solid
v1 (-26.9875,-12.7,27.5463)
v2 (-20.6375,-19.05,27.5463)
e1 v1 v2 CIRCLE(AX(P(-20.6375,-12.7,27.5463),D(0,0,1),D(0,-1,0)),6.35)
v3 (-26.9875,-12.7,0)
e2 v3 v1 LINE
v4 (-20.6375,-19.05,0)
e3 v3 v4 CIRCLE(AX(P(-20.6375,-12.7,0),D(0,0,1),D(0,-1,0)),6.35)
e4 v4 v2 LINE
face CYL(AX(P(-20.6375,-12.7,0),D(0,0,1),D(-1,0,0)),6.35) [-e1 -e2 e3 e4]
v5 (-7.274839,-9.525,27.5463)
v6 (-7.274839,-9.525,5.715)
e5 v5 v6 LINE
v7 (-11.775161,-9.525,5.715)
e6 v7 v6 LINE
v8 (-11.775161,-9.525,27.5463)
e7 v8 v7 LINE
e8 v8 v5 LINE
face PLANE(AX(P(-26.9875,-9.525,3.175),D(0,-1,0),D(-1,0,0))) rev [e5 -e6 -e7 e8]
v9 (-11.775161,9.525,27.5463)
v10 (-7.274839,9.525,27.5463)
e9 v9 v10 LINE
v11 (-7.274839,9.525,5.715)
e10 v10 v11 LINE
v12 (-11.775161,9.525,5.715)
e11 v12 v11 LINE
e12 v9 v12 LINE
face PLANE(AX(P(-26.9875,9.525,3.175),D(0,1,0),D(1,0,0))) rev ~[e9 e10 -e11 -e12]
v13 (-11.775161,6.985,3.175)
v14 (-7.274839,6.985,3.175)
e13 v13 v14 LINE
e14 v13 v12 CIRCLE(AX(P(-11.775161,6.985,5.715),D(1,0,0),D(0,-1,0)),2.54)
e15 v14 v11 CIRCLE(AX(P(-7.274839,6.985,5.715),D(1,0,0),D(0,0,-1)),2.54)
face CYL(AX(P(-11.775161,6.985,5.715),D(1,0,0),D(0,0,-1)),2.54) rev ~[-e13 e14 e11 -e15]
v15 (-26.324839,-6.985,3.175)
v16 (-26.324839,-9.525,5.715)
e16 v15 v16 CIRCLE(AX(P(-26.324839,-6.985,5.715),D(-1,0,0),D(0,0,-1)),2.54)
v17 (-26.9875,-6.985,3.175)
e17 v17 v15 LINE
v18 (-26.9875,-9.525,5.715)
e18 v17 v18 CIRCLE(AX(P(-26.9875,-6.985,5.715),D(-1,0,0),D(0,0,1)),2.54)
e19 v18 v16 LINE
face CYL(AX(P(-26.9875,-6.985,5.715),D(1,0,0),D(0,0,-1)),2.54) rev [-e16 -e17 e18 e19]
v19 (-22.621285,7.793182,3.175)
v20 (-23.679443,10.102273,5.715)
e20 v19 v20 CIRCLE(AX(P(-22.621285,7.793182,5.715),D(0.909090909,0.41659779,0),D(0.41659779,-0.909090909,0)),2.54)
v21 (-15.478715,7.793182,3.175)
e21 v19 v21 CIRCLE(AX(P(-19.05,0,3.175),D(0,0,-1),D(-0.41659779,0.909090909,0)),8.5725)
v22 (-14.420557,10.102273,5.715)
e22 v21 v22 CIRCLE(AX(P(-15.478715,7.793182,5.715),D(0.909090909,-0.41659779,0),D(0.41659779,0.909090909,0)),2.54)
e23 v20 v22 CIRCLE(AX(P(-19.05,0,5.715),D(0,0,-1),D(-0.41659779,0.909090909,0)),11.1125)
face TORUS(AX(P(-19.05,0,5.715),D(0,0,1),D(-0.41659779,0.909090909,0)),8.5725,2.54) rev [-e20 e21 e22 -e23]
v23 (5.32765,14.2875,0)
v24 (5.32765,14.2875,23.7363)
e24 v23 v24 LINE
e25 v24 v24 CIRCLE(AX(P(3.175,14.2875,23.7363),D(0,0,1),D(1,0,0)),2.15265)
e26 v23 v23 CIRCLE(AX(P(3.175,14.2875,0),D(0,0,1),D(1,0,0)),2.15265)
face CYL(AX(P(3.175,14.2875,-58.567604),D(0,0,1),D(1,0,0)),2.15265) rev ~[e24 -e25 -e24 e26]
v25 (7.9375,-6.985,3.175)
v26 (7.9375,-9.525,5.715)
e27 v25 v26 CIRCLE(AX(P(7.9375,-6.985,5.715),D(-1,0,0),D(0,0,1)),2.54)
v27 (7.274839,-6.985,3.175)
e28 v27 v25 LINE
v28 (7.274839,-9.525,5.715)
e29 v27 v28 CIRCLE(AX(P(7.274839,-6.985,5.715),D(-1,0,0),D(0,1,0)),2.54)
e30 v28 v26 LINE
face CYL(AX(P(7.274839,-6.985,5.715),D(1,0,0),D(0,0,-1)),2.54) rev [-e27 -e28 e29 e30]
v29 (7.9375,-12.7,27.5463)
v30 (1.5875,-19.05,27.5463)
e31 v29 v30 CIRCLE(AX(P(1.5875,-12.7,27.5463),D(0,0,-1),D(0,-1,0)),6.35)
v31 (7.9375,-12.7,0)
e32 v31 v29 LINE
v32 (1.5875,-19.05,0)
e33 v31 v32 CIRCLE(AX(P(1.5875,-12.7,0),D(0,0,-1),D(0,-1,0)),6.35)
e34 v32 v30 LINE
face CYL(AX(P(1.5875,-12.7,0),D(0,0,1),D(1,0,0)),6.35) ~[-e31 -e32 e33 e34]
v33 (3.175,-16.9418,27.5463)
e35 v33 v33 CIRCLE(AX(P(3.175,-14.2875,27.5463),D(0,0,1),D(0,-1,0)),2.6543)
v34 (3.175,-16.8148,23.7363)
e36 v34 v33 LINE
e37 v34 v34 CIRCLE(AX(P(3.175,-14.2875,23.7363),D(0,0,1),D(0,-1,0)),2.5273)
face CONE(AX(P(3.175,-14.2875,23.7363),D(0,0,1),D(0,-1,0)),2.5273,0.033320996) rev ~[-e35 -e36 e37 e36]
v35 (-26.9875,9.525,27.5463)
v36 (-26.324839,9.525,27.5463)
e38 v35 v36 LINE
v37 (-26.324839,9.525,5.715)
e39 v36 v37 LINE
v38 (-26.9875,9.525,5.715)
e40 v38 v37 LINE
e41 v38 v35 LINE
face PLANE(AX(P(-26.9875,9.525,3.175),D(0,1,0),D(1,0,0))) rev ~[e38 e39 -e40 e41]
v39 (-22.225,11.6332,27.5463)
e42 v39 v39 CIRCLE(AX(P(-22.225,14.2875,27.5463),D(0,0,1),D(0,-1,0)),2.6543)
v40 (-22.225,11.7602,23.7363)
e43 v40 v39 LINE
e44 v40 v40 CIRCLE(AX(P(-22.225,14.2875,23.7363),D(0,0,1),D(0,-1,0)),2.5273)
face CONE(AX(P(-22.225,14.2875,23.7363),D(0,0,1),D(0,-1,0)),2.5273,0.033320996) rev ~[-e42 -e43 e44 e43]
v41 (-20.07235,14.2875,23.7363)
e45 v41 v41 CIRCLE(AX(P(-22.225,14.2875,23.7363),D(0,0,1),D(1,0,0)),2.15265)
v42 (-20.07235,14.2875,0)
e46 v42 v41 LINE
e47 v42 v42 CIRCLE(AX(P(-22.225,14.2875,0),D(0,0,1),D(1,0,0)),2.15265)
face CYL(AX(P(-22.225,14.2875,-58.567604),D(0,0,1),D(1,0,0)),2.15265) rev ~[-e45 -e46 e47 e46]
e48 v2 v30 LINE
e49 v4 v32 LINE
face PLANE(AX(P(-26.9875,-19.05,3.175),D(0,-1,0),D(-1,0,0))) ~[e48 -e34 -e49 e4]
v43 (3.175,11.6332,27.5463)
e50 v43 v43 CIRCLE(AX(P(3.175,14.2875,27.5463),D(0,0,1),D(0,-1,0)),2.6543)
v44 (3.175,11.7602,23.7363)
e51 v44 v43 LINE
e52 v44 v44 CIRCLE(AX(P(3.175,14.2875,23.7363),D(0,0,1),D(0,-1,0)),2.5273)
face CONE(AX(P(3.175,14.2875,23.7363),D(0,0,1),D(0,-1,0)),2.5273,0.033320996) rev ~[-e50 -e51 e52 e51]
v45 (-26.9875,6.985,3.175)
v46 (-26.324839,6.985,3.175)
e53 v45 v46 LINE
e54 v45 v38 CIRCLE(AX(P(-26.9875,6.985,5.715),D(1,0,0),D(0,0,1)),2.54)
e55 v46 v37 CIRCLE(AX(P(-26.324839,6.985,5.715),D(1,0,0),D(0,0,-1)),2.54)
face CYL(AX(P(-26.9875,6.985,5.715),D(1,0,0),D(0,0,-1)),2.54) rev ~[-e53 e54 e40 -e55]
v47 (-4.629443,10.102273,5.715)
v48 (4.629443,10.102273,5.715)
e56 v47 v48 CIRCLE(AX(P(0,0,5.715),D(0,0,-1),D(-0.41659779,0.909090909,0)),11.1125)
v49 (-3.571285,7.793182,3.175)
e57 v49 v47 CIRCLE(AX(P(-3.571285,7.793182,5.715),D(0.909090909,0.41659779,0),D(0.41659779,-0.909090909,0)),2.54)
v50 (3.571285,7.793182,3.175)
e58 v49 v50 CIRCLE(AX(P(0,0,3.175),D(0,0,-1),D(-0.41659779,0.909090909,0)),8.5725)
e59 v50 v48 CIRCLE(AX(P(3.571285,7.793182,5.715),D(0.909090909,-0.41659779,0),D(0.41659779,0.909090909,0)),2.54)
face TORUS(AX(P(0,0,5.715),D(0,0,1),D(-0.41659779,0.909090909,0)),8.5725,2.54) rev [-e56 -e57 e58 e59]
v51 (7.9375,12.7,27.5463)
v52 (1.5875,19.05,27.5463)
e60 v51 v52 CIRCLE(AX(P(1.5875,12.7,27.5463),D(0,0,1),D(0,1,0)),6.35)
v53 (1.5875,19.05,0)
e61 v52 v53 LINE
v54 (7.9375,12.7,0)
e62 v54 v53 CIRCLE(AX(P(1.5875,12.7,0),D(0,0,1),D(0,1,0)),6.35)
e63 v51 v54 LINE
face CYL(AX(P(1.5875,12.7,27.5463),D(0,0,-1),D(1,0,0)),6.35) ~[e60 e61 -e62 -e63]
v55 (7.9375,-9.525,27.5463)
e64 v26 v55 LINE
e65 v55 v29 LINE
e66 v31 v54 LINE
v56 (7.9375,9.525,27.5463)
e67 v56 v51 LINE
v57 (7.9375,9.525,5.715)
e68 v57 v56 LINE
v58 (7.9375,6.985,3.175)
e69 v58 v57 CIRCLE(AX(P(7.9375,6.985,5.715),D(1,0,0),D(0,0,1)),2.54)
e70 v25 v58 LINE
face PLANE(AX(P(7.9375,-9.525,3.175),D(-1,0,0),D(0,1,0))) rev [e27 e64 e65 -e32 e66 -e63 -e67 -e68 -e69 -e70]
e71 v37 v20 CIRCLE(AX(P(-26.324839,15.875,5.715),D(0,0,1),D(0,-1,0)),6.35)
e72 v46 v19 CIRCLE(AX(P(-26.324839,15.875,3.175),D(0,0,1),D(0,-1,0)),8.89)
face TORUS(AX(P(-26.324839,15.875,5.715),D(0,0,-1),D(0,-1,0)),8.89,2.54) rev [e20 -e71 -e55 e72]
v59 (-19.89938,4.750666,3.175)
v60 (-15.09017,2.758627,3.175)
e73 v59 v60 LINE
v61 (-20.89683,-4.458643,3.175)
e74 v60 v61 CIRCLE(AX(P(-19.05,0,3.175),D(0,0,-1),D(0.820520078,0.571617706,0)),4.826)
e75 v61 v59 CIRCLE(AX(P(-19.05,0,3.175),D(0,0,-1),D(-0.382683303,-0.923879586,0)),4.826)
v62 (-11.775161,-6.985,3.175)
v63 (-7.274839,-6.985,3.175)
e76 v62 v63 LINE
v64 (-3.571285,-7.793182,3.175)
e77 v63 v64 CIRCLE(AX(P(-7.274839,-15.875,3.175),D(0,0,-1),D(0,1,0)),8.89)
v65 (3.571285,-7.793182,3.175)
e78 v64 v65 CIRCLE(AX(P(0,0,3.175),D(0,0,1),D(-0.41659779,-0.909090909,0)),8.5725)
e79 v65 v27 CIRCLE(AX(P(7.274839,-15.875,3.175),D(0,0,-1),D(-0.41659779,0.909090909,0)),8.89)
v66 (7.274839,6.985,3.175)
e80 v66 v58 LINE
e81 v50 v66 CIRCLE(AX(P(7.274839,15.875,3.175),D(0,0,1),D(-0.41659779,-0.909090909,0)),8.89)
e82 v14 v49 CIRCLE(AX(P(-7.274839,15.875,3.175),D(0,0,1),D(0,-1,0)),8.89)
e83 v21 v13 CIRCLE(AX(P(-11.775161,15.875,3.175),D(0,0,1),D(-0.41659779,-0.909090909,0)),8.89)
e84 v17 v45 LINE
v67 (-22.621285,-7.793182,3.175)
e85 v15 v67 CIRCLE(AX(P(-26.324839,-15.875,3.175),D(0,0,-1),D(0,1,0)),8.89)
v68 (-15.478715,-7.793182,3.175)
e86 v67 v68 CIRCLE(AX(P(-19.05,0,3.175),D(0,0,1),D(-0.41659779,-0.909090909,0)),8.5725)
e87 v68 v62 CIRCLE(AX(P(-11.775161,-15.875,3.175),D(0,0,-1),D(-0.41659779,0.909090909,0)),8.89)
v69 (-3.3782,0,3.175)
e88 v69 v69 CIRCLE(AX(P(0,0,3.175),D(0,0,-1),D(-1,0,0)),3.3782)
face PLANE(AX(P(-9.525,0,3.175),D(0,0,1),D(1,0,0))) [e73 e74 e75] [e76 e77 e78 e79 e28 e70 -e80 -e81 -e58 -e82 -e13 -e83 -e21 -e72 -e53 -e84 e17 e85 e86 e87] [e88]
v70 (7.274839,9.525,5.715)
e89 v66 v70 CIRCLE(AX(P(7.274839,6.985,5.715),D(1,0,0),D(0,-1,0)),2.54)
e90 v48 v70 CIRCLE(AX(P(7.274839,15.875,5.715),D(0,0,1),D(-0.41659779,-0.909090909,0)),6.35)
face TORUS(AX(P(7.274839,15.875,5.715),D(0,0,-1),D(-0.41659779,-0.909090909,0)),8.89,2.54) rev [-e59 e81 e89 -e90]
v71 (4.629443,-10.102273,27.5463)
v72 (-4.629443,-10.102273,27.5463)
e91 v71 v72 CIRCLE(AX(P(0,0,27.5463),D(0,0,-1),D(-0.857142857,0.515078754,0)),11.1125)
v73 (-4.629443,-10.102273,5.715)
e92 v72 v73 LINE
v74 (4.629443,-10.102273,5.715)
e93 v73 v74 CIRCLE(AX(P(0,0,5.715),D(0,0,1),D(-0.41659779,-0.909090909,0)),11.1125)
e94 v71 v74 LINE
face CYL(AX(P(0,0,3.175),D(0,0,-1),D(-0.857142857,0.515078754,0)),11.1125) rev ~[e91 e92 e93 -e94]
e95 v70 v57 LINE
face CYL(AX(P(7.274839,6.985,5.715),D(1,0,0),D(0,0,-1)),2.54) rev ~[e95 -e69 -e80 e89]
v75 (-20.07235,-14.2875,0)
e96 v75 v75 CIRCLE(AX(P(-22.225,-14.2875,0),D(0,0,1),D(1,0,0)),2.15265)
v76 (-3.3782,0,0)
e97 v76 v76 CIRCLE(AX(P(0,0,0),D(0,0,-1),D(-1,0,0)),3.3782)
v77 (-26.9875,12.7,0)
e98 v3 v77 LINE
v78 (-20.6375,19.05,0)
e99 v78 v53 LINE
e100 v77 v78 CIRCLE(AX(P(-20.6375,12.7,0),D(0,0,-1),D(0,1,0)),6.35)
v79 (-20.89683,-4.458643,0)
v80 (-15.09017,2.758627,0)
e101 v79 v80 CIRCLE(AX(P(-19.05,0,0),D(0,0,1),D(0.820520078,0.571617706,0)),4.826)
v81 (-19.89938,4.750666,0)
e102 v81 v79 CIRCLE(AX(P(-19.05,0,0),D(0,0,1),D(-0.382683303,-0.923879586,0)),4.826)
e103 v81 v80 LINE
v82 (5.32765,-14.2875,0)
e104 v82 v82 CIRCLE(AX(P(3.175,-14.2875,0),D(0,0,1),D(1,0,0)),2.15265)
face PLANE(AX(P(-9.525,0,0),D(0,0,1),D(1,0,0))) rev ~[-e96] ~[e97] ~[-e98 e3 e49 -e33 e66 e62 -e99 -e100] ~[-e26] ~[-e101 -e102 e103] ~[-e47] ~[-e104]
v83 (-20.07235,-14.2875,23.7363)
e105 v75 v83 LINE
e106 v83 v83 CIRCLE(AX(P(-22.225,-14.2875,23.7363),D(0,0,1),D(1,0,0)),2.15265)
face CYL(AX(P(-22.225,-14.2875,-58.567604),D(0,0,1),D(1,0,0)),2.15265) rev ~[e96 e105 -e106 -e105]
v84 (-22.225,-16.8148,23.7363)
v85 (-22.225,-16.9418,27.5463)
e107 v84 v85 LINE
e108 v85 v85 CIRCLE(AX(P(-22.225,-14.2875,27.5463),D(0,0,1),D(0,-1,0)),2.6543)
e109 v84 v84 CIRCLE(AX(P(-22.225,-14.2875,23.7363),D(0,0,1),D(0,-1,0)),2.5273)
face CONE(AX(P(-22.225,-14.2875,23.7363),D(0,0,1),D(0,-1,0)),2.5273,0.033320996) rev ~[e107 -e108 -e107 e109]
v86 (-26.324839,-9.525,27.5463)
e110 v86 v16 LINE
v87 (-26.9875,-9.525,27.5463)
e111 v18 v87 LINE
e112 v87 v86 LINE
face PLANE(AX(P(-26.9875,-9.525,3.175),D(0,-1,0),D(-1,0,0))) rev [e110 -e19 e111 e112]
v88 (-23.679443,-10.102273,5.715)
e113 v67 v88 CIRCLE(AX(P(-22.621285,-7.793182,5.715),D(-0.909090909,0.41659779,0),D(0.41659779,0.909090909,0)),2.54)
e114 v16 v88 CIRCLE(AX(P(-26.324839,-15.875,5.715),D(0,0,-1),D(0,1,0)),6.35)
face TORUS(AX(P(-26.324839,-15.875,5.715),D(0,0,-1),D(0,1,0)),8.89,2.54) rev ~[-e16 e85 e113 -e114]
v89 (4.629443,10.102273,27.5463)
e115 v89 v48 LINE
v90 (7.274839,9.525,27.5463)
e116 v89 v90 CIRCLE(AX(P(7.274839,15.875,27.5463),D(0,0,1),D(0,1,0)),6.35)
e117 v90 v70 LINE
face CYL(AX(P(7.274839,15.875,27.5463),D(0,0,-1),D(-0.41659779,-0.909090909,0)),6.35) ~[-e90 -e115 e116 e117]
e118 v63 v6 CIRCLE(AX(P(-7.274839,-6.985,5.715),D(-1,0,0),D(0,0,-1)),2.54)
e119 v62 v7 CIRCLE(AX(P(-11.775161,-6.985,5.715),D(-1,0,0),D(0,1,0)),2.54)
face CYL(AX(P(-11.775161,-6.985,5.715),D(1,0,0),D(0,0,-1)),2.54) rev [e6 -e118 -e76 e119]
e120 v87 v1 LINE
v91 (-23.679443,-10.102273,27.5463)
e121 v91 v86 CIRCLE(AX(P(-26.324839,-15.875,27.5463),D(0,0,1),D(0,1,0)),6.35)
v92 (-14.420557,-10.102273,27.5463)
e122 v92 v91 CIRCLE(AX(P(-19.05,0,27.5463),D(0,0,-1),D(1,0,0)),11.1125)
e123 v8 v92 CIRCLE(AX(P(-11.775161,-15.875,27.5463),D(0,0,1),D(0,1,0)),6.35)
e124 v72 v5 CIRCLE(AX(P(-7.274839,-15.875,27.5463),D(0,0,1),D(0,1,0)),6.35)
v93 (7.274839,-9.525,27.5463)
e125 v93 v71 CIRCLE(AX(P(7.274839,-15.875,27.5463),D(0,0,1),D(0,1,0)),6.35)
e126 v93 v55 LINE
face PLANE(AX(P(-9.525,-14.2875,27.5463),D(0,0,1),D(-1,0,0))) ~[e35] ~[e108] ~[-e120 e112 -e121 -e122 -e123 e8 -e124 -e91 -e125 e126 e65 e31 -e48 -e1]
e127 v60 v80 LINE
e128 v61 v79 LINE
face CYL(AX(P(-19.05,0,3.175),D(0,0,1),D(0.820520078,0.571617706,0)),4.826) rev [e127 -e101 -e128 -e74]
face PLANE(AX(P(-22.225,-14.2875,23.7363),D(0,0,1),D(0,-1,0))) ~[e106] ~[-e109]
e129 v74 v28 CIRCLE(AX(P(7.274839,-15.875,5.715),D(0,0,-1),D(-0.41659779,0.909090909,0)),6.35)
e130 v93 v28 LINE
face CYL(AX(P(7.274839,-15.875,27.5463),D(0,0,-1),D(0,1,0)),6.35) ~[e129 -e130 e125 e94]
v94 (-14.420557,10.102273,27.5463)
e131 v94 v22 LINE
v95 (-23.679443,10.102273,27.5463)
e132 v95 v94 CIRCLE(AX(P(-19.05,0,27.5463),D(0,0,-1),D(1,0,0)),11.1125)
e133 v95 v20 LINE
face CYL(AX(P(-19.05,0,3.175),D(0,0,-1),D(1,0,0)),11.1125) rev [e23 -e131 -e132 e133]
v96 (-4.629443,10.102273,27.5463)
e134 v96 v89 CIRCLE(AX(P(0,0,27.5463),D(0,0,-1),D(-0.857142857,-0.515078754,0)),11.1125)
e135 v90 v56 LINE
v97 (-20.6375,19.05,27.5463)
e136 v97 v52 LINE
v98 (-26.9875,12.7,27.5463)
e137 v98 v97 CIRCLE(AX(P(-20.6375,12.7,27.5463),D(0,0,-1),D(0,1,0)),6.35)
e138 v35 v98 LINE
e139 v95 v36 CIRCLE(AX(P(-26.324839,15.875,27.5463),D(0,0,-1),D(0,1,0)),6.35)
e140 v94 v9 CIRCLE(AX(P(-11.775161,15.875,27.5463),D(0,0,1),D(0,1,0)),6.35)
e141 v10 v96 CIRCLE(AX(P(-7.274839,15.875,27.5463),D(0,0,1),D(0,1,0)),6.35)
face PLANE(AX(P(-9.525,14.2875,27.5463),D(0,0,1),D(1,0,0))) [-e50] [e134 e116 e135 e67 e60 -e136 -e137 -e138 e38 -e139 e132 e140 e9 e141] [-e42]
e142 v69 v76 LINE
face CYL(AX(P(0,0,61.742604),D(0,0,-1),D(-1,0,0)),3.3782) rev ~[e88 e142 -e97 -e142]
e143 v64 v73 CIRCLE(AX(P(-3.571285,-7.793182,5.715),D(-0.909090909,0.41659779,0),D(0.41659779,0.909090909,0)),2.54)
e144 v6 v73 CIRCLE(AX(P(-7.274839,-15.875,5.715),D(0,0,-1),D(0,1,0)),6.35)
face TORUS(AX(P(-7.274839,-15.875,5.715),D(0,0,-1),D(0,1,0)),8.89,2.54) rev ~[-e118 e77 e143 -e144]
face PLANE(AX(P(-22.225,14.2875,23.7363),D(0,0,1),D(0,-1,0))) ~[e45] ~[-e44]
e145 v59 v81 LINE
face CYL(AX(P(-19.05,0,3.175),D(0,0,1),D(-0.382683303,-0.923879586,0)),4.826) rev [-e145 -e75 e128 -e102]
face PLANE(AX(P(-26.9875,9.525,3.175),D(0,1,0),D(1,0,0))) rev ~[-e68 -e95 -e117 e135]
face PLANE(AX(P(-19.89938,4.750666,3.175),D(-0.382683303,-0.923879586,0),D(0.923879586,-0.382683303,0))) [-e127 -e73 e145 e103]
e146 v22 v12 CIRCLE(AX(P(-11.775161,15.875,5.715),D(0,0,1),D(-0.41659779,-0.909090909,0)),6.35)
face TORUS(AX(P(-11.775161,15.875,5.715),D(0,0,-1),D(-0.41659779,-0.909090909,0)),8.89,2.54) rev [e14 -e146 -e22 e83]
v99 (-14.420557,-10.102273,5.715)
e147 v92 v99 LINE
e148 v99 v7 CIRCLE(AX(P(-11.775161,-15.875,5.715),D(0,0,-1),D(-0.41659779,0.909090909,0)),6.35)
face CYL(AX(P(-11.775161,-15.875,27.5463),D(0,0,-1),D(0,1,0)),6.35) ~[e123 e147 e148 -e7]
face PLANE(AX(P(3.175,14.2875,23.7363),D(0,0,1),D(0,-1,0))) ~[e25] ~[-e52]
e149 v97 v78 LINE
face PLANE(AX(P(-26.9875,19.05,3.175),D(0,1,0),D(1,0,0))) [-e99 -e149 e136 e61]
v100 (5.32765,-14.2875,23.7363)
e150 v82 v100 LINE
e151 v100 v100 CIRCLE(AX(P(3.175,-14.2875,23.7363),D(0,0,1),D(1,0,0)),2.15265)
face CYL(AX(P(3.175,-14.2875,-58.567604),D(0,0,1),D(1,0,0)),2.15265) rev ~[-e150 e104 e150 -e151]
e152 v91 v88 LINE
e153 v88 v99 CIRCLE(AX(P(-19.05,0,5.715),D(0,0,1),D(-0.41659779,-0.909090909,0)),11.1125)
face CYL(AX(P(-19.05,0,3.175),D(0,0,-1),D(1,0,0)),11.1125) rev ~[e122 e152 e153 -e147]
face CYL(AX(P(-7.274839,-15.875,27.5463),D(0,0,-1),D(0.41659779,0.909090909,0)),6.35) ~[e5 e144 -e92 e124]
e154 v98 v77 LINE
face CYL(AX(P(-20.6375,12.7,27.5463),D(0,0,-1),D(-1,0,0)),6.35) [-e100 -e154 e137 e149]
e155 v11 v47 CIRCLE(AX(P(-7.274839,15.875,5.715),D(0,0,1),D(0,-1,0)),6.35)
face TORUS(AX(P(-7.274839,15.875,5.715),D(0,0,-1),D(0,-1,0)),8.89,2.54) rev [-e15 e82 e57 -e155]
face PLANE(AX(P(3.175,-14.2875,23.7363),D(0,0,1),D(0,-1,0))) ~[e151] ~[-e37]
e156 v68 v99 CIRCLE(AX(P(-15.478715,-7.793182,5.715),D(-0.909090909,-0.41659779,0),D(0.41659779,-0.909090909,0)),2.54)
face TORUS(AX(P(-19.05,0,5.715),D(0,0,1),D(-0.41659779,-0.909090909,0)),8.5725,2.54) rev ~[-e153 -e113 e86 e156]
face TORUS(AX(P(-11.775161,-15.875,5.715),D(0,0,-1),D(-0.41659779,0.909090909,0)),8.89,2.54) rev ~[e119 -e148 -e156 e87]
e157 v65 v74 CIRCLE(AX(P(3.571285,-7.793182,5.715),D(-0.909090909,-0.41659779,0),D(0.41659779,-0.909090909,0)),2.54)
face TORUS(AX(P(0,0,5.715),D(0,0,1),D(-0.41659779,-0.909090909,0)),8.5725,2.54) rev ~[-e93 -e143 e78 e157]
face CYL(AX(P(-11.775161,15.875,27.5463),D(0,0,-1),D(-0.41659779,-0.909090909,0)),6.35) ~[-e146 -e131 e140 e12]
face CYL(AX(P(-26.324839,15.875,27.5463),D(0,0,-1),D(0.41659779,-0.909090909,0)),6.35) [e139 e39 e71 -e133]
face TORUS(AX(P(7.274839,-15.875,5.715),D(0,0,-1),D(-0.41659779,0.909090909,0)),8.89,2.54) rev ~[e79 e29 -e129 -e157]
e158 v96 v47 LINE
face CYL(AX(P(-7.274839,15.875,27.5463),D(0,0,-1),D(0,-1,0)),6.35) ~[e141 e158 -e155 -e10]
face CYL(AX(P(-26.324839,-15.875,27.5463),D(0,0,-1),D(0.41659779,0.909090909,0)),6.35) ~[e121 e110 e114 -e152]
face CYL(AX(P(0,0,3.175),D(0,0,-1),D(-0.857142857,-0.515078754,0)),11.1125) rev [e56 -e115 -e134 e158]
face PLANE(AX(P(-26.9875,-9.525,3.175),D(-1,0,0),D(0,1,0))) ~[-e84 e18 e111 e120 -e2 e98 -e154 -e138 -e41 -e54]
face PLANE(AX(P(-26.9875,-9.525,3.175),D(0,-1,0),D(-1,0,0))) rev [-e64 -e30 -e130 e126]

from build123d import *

# Parameters (mm, degrees)
SKETCH1_W               = 34.925
SKETCH1_H               = 38.1
BOSS_EXTRUDE1_DEPTH     = 3.175
SKETCH2_W               = 34.925
SKETCH2_H               = 9.525
BOSS_EXTRUDE2_DEPTH     = 24.3713
CUT_EXTRUDE1_START      = -16.4338
SKETCH3_R               = 11.1125
CUT_EXTRUDE1_DEPTH      = 25.3713
FILLET1_R               = 6.35
FILLET2_R               = 2.54
CUT_EXTRUDE2_DEPTH      = 4.175
F_1_4_CLEARANCE_HOLE1_D = 6.7564
F_6_CLEARANCE_HOLE1_D   = 4.3053
HOLE1_AT_2_COUNT        = 2
HOLE1_AT_2_PITCH        = 25.4
HOLE1_AT_3_COUNT        = 2
HOLE1_AT_3_PITCH        = 28.575
HOLE1_AT_4_COUNT        = 2
HOLE1_AT_4_PITCH        = 38.232062788


with BuildPart() as part:
    # Sketch1 → Boss-Extrude1 (new body)
    with BuildSketch(Plane.XY):
        with Locations((-9.525, 0)):
            Rectangle(SKETCH1_W, SKETCH1_H)
    extrude(amount=BOSS_EXTRUDE1_DEPTH)

    # Sketch2 → Boss-Extrude2 (add)
    with BuildSketch(Plane.XY.offset(3.175)):
        with Locations((-9.525, 14.2875)):
            Rectangle(SKETCH2_W, SKETCH2_H)
    boss_extrude2 = extrude(amount=BOSS_EXTRUDE2_DEPTH)

    # Sketch3 → Cut-Extrude1 (cut)
    with BuildSketch(Plane.XY.offset(19.6088).offset(CUT_EXTRUDE1_START)):
        Circle(SKETCH3_R)
        with Locations((-19.05, 0)):
            Circle(SKETCH3_R)
    cut_extrude1 = extrude(amount=CUT_EXTRUDE1_DEPTH, mode=Mode.SUBTRACT)

    # Mirror1: Boss-Extrude2, Cut-Extrude1 across plane
    add(boss_extrude2.mirror(Plane.ZX))
    add(cut_extrude1.mirror(Plane.ZX), mode=Mode.SUBTRACT)

    # Fillet1
    fillet1_edges = [part.edges().sort_by_distance(p)[0] for p in [
        (7.9375, 19.05, 13.77315),
        (-26.9875, 19.05, 13.77315),
        (5.72381265, 9.525, 15.36065),
        (-5.72381265, 9.525, 15.36065),
        (-13.32618735, 9.525, 15.36065),
        (-24.77381265, 9.525, 15.36065),
        (7.9375, -19.05, 13.77315),
        (-26.9875, -19.05, 13.77315),
        (5.72381265, -9.525, 15.36065),
        (-5.72381265, -9.525, 15.36065),
        (-13.32618735, -9.525, 15.36065),
        (-24.77381265, -9.525, 15.36065),
    ]]
    fillet(fillet1_edges, radius=FILLET1_R)

    # Fillet2
    fillet2_edges = [part.edges().sort_by_distance(p)[0] for p in [
        (7.606169458, 9.525, 3.175),
        (5.921014367, 9.670996527, 3.175),
        (0, 11.1125, 3.175),
        (-5.921014367, 9.670996527, 3.175),
        (-13.128985633, 9.670996527, 3.175),
        (-19.05, 11.1125, 3.175),
        (-24.971014367, 9.670996527, 3.175),
        (-26.656169458, 9.525, 3.175),
        (-9.525, 9.525, 3.175),
        (7.606169458, -9.525, 3.175),
        (5.921014367, -9.670996527, 3.175),
        (0, -11.1125, 3.175),
        (-5.921014367, -9.670996527, 3.175),
        (-9.525, -9.525, 3.175),
        (-13.128985633, -9.670996527, 3.175),
        (-19.05, -11.1125, 3.175),
        (-24.971014367, -9.670996527, 3.175),
        (-26.656169458, -9.525, 3.175),
    ]]
    fillet(fillet2_edges, radius=FILLET2_R)

    # Sketch4 → Cut-Extrude2 (cut, through all)
    with BuildSketch(Plane.XY.offset(3.175)):
        with BuildLine():
            Line((-19.899380011, 4.750666227), (-15.090170105, 2.758627051))
            ThreePointArc((-15.090170105, 2.758627051), (-15.28988845, -3.025200346), (-20.896829618, -4.458642883))
            ThreePointArc((-20.896829618, -4.458642883), (-23.8479402, 0.519659348), (-19.899380011, 4.750666227))
        make_face()
    extrude(amount=-CUT_EXTRUDE2_DEPTH, mode=Mode.SUBTRACT)

    # 1/4 Clearance Hole1 (through all)
    with Locations(Plane.XY.offset(3.175)):
        with Locations((0, 0)):
            Hole(F_1_4_CLEARANCE_HOLE1_D / 2)

    # #6 Clearance Hole1 (through all)
    with Locations(Plane(origin=(0, 0, 0), x_dir=(-1, 0, 0), z_dir=(0, 0, -1))):
        with Locations((-3.175, 14.2875), (22.225, 14.2875), (22.225, -14.2875), (-3.175, -14.2875)):
            Hole(F_6_CLEARANCE_HOLE1_D / 2)

    # Sketch9 → Hole1 (revolve, cut)
    with BuildSketch(Plane(origin=(-22.225, 14.2875, 27.5463), x_dir=(0, -1, 0), z_dir=(1, 0, 0))):
        Polygon((0, 0), (0, 3.81), (2.5273, 3.81), (2.6543, 0), align=None)
    hole1 = revolve(axis=Axis((-22.225, 14.2875, -82.4537), (0, 0, 1)), mode=Mode.SUBTRACT)

    # Hole1 at 2: Hole1 ×2
    with Locations(*[(i * HOLE1_AT_2_PITCH, 0, 0) for i in range(1, HOLE1_AT_2_COUNT)]):
        add(hole1, mode=Mode.SUBTRACT)

    # Hole1 at 3: Hole1 ×2
    with Locations(*[(0, -i * HOLE1_AT_3_PITCH, 0) for i in range(1, HOLE1_AT_3_COUNT)]):
        add(hole1, mode=Mode.SUBTRACT)

    # Hole1 at 4: Hole1 ×2
    with Locations(*[Vector(0.664363839, -0.747409319, 0) * (i * HOLE1_AT_4_PITCH) for i in range(1, HOLE1_AT_4_COUNT)]):
        add(hole1, mode=Mode.SUBTRACT)


solid = part.part
